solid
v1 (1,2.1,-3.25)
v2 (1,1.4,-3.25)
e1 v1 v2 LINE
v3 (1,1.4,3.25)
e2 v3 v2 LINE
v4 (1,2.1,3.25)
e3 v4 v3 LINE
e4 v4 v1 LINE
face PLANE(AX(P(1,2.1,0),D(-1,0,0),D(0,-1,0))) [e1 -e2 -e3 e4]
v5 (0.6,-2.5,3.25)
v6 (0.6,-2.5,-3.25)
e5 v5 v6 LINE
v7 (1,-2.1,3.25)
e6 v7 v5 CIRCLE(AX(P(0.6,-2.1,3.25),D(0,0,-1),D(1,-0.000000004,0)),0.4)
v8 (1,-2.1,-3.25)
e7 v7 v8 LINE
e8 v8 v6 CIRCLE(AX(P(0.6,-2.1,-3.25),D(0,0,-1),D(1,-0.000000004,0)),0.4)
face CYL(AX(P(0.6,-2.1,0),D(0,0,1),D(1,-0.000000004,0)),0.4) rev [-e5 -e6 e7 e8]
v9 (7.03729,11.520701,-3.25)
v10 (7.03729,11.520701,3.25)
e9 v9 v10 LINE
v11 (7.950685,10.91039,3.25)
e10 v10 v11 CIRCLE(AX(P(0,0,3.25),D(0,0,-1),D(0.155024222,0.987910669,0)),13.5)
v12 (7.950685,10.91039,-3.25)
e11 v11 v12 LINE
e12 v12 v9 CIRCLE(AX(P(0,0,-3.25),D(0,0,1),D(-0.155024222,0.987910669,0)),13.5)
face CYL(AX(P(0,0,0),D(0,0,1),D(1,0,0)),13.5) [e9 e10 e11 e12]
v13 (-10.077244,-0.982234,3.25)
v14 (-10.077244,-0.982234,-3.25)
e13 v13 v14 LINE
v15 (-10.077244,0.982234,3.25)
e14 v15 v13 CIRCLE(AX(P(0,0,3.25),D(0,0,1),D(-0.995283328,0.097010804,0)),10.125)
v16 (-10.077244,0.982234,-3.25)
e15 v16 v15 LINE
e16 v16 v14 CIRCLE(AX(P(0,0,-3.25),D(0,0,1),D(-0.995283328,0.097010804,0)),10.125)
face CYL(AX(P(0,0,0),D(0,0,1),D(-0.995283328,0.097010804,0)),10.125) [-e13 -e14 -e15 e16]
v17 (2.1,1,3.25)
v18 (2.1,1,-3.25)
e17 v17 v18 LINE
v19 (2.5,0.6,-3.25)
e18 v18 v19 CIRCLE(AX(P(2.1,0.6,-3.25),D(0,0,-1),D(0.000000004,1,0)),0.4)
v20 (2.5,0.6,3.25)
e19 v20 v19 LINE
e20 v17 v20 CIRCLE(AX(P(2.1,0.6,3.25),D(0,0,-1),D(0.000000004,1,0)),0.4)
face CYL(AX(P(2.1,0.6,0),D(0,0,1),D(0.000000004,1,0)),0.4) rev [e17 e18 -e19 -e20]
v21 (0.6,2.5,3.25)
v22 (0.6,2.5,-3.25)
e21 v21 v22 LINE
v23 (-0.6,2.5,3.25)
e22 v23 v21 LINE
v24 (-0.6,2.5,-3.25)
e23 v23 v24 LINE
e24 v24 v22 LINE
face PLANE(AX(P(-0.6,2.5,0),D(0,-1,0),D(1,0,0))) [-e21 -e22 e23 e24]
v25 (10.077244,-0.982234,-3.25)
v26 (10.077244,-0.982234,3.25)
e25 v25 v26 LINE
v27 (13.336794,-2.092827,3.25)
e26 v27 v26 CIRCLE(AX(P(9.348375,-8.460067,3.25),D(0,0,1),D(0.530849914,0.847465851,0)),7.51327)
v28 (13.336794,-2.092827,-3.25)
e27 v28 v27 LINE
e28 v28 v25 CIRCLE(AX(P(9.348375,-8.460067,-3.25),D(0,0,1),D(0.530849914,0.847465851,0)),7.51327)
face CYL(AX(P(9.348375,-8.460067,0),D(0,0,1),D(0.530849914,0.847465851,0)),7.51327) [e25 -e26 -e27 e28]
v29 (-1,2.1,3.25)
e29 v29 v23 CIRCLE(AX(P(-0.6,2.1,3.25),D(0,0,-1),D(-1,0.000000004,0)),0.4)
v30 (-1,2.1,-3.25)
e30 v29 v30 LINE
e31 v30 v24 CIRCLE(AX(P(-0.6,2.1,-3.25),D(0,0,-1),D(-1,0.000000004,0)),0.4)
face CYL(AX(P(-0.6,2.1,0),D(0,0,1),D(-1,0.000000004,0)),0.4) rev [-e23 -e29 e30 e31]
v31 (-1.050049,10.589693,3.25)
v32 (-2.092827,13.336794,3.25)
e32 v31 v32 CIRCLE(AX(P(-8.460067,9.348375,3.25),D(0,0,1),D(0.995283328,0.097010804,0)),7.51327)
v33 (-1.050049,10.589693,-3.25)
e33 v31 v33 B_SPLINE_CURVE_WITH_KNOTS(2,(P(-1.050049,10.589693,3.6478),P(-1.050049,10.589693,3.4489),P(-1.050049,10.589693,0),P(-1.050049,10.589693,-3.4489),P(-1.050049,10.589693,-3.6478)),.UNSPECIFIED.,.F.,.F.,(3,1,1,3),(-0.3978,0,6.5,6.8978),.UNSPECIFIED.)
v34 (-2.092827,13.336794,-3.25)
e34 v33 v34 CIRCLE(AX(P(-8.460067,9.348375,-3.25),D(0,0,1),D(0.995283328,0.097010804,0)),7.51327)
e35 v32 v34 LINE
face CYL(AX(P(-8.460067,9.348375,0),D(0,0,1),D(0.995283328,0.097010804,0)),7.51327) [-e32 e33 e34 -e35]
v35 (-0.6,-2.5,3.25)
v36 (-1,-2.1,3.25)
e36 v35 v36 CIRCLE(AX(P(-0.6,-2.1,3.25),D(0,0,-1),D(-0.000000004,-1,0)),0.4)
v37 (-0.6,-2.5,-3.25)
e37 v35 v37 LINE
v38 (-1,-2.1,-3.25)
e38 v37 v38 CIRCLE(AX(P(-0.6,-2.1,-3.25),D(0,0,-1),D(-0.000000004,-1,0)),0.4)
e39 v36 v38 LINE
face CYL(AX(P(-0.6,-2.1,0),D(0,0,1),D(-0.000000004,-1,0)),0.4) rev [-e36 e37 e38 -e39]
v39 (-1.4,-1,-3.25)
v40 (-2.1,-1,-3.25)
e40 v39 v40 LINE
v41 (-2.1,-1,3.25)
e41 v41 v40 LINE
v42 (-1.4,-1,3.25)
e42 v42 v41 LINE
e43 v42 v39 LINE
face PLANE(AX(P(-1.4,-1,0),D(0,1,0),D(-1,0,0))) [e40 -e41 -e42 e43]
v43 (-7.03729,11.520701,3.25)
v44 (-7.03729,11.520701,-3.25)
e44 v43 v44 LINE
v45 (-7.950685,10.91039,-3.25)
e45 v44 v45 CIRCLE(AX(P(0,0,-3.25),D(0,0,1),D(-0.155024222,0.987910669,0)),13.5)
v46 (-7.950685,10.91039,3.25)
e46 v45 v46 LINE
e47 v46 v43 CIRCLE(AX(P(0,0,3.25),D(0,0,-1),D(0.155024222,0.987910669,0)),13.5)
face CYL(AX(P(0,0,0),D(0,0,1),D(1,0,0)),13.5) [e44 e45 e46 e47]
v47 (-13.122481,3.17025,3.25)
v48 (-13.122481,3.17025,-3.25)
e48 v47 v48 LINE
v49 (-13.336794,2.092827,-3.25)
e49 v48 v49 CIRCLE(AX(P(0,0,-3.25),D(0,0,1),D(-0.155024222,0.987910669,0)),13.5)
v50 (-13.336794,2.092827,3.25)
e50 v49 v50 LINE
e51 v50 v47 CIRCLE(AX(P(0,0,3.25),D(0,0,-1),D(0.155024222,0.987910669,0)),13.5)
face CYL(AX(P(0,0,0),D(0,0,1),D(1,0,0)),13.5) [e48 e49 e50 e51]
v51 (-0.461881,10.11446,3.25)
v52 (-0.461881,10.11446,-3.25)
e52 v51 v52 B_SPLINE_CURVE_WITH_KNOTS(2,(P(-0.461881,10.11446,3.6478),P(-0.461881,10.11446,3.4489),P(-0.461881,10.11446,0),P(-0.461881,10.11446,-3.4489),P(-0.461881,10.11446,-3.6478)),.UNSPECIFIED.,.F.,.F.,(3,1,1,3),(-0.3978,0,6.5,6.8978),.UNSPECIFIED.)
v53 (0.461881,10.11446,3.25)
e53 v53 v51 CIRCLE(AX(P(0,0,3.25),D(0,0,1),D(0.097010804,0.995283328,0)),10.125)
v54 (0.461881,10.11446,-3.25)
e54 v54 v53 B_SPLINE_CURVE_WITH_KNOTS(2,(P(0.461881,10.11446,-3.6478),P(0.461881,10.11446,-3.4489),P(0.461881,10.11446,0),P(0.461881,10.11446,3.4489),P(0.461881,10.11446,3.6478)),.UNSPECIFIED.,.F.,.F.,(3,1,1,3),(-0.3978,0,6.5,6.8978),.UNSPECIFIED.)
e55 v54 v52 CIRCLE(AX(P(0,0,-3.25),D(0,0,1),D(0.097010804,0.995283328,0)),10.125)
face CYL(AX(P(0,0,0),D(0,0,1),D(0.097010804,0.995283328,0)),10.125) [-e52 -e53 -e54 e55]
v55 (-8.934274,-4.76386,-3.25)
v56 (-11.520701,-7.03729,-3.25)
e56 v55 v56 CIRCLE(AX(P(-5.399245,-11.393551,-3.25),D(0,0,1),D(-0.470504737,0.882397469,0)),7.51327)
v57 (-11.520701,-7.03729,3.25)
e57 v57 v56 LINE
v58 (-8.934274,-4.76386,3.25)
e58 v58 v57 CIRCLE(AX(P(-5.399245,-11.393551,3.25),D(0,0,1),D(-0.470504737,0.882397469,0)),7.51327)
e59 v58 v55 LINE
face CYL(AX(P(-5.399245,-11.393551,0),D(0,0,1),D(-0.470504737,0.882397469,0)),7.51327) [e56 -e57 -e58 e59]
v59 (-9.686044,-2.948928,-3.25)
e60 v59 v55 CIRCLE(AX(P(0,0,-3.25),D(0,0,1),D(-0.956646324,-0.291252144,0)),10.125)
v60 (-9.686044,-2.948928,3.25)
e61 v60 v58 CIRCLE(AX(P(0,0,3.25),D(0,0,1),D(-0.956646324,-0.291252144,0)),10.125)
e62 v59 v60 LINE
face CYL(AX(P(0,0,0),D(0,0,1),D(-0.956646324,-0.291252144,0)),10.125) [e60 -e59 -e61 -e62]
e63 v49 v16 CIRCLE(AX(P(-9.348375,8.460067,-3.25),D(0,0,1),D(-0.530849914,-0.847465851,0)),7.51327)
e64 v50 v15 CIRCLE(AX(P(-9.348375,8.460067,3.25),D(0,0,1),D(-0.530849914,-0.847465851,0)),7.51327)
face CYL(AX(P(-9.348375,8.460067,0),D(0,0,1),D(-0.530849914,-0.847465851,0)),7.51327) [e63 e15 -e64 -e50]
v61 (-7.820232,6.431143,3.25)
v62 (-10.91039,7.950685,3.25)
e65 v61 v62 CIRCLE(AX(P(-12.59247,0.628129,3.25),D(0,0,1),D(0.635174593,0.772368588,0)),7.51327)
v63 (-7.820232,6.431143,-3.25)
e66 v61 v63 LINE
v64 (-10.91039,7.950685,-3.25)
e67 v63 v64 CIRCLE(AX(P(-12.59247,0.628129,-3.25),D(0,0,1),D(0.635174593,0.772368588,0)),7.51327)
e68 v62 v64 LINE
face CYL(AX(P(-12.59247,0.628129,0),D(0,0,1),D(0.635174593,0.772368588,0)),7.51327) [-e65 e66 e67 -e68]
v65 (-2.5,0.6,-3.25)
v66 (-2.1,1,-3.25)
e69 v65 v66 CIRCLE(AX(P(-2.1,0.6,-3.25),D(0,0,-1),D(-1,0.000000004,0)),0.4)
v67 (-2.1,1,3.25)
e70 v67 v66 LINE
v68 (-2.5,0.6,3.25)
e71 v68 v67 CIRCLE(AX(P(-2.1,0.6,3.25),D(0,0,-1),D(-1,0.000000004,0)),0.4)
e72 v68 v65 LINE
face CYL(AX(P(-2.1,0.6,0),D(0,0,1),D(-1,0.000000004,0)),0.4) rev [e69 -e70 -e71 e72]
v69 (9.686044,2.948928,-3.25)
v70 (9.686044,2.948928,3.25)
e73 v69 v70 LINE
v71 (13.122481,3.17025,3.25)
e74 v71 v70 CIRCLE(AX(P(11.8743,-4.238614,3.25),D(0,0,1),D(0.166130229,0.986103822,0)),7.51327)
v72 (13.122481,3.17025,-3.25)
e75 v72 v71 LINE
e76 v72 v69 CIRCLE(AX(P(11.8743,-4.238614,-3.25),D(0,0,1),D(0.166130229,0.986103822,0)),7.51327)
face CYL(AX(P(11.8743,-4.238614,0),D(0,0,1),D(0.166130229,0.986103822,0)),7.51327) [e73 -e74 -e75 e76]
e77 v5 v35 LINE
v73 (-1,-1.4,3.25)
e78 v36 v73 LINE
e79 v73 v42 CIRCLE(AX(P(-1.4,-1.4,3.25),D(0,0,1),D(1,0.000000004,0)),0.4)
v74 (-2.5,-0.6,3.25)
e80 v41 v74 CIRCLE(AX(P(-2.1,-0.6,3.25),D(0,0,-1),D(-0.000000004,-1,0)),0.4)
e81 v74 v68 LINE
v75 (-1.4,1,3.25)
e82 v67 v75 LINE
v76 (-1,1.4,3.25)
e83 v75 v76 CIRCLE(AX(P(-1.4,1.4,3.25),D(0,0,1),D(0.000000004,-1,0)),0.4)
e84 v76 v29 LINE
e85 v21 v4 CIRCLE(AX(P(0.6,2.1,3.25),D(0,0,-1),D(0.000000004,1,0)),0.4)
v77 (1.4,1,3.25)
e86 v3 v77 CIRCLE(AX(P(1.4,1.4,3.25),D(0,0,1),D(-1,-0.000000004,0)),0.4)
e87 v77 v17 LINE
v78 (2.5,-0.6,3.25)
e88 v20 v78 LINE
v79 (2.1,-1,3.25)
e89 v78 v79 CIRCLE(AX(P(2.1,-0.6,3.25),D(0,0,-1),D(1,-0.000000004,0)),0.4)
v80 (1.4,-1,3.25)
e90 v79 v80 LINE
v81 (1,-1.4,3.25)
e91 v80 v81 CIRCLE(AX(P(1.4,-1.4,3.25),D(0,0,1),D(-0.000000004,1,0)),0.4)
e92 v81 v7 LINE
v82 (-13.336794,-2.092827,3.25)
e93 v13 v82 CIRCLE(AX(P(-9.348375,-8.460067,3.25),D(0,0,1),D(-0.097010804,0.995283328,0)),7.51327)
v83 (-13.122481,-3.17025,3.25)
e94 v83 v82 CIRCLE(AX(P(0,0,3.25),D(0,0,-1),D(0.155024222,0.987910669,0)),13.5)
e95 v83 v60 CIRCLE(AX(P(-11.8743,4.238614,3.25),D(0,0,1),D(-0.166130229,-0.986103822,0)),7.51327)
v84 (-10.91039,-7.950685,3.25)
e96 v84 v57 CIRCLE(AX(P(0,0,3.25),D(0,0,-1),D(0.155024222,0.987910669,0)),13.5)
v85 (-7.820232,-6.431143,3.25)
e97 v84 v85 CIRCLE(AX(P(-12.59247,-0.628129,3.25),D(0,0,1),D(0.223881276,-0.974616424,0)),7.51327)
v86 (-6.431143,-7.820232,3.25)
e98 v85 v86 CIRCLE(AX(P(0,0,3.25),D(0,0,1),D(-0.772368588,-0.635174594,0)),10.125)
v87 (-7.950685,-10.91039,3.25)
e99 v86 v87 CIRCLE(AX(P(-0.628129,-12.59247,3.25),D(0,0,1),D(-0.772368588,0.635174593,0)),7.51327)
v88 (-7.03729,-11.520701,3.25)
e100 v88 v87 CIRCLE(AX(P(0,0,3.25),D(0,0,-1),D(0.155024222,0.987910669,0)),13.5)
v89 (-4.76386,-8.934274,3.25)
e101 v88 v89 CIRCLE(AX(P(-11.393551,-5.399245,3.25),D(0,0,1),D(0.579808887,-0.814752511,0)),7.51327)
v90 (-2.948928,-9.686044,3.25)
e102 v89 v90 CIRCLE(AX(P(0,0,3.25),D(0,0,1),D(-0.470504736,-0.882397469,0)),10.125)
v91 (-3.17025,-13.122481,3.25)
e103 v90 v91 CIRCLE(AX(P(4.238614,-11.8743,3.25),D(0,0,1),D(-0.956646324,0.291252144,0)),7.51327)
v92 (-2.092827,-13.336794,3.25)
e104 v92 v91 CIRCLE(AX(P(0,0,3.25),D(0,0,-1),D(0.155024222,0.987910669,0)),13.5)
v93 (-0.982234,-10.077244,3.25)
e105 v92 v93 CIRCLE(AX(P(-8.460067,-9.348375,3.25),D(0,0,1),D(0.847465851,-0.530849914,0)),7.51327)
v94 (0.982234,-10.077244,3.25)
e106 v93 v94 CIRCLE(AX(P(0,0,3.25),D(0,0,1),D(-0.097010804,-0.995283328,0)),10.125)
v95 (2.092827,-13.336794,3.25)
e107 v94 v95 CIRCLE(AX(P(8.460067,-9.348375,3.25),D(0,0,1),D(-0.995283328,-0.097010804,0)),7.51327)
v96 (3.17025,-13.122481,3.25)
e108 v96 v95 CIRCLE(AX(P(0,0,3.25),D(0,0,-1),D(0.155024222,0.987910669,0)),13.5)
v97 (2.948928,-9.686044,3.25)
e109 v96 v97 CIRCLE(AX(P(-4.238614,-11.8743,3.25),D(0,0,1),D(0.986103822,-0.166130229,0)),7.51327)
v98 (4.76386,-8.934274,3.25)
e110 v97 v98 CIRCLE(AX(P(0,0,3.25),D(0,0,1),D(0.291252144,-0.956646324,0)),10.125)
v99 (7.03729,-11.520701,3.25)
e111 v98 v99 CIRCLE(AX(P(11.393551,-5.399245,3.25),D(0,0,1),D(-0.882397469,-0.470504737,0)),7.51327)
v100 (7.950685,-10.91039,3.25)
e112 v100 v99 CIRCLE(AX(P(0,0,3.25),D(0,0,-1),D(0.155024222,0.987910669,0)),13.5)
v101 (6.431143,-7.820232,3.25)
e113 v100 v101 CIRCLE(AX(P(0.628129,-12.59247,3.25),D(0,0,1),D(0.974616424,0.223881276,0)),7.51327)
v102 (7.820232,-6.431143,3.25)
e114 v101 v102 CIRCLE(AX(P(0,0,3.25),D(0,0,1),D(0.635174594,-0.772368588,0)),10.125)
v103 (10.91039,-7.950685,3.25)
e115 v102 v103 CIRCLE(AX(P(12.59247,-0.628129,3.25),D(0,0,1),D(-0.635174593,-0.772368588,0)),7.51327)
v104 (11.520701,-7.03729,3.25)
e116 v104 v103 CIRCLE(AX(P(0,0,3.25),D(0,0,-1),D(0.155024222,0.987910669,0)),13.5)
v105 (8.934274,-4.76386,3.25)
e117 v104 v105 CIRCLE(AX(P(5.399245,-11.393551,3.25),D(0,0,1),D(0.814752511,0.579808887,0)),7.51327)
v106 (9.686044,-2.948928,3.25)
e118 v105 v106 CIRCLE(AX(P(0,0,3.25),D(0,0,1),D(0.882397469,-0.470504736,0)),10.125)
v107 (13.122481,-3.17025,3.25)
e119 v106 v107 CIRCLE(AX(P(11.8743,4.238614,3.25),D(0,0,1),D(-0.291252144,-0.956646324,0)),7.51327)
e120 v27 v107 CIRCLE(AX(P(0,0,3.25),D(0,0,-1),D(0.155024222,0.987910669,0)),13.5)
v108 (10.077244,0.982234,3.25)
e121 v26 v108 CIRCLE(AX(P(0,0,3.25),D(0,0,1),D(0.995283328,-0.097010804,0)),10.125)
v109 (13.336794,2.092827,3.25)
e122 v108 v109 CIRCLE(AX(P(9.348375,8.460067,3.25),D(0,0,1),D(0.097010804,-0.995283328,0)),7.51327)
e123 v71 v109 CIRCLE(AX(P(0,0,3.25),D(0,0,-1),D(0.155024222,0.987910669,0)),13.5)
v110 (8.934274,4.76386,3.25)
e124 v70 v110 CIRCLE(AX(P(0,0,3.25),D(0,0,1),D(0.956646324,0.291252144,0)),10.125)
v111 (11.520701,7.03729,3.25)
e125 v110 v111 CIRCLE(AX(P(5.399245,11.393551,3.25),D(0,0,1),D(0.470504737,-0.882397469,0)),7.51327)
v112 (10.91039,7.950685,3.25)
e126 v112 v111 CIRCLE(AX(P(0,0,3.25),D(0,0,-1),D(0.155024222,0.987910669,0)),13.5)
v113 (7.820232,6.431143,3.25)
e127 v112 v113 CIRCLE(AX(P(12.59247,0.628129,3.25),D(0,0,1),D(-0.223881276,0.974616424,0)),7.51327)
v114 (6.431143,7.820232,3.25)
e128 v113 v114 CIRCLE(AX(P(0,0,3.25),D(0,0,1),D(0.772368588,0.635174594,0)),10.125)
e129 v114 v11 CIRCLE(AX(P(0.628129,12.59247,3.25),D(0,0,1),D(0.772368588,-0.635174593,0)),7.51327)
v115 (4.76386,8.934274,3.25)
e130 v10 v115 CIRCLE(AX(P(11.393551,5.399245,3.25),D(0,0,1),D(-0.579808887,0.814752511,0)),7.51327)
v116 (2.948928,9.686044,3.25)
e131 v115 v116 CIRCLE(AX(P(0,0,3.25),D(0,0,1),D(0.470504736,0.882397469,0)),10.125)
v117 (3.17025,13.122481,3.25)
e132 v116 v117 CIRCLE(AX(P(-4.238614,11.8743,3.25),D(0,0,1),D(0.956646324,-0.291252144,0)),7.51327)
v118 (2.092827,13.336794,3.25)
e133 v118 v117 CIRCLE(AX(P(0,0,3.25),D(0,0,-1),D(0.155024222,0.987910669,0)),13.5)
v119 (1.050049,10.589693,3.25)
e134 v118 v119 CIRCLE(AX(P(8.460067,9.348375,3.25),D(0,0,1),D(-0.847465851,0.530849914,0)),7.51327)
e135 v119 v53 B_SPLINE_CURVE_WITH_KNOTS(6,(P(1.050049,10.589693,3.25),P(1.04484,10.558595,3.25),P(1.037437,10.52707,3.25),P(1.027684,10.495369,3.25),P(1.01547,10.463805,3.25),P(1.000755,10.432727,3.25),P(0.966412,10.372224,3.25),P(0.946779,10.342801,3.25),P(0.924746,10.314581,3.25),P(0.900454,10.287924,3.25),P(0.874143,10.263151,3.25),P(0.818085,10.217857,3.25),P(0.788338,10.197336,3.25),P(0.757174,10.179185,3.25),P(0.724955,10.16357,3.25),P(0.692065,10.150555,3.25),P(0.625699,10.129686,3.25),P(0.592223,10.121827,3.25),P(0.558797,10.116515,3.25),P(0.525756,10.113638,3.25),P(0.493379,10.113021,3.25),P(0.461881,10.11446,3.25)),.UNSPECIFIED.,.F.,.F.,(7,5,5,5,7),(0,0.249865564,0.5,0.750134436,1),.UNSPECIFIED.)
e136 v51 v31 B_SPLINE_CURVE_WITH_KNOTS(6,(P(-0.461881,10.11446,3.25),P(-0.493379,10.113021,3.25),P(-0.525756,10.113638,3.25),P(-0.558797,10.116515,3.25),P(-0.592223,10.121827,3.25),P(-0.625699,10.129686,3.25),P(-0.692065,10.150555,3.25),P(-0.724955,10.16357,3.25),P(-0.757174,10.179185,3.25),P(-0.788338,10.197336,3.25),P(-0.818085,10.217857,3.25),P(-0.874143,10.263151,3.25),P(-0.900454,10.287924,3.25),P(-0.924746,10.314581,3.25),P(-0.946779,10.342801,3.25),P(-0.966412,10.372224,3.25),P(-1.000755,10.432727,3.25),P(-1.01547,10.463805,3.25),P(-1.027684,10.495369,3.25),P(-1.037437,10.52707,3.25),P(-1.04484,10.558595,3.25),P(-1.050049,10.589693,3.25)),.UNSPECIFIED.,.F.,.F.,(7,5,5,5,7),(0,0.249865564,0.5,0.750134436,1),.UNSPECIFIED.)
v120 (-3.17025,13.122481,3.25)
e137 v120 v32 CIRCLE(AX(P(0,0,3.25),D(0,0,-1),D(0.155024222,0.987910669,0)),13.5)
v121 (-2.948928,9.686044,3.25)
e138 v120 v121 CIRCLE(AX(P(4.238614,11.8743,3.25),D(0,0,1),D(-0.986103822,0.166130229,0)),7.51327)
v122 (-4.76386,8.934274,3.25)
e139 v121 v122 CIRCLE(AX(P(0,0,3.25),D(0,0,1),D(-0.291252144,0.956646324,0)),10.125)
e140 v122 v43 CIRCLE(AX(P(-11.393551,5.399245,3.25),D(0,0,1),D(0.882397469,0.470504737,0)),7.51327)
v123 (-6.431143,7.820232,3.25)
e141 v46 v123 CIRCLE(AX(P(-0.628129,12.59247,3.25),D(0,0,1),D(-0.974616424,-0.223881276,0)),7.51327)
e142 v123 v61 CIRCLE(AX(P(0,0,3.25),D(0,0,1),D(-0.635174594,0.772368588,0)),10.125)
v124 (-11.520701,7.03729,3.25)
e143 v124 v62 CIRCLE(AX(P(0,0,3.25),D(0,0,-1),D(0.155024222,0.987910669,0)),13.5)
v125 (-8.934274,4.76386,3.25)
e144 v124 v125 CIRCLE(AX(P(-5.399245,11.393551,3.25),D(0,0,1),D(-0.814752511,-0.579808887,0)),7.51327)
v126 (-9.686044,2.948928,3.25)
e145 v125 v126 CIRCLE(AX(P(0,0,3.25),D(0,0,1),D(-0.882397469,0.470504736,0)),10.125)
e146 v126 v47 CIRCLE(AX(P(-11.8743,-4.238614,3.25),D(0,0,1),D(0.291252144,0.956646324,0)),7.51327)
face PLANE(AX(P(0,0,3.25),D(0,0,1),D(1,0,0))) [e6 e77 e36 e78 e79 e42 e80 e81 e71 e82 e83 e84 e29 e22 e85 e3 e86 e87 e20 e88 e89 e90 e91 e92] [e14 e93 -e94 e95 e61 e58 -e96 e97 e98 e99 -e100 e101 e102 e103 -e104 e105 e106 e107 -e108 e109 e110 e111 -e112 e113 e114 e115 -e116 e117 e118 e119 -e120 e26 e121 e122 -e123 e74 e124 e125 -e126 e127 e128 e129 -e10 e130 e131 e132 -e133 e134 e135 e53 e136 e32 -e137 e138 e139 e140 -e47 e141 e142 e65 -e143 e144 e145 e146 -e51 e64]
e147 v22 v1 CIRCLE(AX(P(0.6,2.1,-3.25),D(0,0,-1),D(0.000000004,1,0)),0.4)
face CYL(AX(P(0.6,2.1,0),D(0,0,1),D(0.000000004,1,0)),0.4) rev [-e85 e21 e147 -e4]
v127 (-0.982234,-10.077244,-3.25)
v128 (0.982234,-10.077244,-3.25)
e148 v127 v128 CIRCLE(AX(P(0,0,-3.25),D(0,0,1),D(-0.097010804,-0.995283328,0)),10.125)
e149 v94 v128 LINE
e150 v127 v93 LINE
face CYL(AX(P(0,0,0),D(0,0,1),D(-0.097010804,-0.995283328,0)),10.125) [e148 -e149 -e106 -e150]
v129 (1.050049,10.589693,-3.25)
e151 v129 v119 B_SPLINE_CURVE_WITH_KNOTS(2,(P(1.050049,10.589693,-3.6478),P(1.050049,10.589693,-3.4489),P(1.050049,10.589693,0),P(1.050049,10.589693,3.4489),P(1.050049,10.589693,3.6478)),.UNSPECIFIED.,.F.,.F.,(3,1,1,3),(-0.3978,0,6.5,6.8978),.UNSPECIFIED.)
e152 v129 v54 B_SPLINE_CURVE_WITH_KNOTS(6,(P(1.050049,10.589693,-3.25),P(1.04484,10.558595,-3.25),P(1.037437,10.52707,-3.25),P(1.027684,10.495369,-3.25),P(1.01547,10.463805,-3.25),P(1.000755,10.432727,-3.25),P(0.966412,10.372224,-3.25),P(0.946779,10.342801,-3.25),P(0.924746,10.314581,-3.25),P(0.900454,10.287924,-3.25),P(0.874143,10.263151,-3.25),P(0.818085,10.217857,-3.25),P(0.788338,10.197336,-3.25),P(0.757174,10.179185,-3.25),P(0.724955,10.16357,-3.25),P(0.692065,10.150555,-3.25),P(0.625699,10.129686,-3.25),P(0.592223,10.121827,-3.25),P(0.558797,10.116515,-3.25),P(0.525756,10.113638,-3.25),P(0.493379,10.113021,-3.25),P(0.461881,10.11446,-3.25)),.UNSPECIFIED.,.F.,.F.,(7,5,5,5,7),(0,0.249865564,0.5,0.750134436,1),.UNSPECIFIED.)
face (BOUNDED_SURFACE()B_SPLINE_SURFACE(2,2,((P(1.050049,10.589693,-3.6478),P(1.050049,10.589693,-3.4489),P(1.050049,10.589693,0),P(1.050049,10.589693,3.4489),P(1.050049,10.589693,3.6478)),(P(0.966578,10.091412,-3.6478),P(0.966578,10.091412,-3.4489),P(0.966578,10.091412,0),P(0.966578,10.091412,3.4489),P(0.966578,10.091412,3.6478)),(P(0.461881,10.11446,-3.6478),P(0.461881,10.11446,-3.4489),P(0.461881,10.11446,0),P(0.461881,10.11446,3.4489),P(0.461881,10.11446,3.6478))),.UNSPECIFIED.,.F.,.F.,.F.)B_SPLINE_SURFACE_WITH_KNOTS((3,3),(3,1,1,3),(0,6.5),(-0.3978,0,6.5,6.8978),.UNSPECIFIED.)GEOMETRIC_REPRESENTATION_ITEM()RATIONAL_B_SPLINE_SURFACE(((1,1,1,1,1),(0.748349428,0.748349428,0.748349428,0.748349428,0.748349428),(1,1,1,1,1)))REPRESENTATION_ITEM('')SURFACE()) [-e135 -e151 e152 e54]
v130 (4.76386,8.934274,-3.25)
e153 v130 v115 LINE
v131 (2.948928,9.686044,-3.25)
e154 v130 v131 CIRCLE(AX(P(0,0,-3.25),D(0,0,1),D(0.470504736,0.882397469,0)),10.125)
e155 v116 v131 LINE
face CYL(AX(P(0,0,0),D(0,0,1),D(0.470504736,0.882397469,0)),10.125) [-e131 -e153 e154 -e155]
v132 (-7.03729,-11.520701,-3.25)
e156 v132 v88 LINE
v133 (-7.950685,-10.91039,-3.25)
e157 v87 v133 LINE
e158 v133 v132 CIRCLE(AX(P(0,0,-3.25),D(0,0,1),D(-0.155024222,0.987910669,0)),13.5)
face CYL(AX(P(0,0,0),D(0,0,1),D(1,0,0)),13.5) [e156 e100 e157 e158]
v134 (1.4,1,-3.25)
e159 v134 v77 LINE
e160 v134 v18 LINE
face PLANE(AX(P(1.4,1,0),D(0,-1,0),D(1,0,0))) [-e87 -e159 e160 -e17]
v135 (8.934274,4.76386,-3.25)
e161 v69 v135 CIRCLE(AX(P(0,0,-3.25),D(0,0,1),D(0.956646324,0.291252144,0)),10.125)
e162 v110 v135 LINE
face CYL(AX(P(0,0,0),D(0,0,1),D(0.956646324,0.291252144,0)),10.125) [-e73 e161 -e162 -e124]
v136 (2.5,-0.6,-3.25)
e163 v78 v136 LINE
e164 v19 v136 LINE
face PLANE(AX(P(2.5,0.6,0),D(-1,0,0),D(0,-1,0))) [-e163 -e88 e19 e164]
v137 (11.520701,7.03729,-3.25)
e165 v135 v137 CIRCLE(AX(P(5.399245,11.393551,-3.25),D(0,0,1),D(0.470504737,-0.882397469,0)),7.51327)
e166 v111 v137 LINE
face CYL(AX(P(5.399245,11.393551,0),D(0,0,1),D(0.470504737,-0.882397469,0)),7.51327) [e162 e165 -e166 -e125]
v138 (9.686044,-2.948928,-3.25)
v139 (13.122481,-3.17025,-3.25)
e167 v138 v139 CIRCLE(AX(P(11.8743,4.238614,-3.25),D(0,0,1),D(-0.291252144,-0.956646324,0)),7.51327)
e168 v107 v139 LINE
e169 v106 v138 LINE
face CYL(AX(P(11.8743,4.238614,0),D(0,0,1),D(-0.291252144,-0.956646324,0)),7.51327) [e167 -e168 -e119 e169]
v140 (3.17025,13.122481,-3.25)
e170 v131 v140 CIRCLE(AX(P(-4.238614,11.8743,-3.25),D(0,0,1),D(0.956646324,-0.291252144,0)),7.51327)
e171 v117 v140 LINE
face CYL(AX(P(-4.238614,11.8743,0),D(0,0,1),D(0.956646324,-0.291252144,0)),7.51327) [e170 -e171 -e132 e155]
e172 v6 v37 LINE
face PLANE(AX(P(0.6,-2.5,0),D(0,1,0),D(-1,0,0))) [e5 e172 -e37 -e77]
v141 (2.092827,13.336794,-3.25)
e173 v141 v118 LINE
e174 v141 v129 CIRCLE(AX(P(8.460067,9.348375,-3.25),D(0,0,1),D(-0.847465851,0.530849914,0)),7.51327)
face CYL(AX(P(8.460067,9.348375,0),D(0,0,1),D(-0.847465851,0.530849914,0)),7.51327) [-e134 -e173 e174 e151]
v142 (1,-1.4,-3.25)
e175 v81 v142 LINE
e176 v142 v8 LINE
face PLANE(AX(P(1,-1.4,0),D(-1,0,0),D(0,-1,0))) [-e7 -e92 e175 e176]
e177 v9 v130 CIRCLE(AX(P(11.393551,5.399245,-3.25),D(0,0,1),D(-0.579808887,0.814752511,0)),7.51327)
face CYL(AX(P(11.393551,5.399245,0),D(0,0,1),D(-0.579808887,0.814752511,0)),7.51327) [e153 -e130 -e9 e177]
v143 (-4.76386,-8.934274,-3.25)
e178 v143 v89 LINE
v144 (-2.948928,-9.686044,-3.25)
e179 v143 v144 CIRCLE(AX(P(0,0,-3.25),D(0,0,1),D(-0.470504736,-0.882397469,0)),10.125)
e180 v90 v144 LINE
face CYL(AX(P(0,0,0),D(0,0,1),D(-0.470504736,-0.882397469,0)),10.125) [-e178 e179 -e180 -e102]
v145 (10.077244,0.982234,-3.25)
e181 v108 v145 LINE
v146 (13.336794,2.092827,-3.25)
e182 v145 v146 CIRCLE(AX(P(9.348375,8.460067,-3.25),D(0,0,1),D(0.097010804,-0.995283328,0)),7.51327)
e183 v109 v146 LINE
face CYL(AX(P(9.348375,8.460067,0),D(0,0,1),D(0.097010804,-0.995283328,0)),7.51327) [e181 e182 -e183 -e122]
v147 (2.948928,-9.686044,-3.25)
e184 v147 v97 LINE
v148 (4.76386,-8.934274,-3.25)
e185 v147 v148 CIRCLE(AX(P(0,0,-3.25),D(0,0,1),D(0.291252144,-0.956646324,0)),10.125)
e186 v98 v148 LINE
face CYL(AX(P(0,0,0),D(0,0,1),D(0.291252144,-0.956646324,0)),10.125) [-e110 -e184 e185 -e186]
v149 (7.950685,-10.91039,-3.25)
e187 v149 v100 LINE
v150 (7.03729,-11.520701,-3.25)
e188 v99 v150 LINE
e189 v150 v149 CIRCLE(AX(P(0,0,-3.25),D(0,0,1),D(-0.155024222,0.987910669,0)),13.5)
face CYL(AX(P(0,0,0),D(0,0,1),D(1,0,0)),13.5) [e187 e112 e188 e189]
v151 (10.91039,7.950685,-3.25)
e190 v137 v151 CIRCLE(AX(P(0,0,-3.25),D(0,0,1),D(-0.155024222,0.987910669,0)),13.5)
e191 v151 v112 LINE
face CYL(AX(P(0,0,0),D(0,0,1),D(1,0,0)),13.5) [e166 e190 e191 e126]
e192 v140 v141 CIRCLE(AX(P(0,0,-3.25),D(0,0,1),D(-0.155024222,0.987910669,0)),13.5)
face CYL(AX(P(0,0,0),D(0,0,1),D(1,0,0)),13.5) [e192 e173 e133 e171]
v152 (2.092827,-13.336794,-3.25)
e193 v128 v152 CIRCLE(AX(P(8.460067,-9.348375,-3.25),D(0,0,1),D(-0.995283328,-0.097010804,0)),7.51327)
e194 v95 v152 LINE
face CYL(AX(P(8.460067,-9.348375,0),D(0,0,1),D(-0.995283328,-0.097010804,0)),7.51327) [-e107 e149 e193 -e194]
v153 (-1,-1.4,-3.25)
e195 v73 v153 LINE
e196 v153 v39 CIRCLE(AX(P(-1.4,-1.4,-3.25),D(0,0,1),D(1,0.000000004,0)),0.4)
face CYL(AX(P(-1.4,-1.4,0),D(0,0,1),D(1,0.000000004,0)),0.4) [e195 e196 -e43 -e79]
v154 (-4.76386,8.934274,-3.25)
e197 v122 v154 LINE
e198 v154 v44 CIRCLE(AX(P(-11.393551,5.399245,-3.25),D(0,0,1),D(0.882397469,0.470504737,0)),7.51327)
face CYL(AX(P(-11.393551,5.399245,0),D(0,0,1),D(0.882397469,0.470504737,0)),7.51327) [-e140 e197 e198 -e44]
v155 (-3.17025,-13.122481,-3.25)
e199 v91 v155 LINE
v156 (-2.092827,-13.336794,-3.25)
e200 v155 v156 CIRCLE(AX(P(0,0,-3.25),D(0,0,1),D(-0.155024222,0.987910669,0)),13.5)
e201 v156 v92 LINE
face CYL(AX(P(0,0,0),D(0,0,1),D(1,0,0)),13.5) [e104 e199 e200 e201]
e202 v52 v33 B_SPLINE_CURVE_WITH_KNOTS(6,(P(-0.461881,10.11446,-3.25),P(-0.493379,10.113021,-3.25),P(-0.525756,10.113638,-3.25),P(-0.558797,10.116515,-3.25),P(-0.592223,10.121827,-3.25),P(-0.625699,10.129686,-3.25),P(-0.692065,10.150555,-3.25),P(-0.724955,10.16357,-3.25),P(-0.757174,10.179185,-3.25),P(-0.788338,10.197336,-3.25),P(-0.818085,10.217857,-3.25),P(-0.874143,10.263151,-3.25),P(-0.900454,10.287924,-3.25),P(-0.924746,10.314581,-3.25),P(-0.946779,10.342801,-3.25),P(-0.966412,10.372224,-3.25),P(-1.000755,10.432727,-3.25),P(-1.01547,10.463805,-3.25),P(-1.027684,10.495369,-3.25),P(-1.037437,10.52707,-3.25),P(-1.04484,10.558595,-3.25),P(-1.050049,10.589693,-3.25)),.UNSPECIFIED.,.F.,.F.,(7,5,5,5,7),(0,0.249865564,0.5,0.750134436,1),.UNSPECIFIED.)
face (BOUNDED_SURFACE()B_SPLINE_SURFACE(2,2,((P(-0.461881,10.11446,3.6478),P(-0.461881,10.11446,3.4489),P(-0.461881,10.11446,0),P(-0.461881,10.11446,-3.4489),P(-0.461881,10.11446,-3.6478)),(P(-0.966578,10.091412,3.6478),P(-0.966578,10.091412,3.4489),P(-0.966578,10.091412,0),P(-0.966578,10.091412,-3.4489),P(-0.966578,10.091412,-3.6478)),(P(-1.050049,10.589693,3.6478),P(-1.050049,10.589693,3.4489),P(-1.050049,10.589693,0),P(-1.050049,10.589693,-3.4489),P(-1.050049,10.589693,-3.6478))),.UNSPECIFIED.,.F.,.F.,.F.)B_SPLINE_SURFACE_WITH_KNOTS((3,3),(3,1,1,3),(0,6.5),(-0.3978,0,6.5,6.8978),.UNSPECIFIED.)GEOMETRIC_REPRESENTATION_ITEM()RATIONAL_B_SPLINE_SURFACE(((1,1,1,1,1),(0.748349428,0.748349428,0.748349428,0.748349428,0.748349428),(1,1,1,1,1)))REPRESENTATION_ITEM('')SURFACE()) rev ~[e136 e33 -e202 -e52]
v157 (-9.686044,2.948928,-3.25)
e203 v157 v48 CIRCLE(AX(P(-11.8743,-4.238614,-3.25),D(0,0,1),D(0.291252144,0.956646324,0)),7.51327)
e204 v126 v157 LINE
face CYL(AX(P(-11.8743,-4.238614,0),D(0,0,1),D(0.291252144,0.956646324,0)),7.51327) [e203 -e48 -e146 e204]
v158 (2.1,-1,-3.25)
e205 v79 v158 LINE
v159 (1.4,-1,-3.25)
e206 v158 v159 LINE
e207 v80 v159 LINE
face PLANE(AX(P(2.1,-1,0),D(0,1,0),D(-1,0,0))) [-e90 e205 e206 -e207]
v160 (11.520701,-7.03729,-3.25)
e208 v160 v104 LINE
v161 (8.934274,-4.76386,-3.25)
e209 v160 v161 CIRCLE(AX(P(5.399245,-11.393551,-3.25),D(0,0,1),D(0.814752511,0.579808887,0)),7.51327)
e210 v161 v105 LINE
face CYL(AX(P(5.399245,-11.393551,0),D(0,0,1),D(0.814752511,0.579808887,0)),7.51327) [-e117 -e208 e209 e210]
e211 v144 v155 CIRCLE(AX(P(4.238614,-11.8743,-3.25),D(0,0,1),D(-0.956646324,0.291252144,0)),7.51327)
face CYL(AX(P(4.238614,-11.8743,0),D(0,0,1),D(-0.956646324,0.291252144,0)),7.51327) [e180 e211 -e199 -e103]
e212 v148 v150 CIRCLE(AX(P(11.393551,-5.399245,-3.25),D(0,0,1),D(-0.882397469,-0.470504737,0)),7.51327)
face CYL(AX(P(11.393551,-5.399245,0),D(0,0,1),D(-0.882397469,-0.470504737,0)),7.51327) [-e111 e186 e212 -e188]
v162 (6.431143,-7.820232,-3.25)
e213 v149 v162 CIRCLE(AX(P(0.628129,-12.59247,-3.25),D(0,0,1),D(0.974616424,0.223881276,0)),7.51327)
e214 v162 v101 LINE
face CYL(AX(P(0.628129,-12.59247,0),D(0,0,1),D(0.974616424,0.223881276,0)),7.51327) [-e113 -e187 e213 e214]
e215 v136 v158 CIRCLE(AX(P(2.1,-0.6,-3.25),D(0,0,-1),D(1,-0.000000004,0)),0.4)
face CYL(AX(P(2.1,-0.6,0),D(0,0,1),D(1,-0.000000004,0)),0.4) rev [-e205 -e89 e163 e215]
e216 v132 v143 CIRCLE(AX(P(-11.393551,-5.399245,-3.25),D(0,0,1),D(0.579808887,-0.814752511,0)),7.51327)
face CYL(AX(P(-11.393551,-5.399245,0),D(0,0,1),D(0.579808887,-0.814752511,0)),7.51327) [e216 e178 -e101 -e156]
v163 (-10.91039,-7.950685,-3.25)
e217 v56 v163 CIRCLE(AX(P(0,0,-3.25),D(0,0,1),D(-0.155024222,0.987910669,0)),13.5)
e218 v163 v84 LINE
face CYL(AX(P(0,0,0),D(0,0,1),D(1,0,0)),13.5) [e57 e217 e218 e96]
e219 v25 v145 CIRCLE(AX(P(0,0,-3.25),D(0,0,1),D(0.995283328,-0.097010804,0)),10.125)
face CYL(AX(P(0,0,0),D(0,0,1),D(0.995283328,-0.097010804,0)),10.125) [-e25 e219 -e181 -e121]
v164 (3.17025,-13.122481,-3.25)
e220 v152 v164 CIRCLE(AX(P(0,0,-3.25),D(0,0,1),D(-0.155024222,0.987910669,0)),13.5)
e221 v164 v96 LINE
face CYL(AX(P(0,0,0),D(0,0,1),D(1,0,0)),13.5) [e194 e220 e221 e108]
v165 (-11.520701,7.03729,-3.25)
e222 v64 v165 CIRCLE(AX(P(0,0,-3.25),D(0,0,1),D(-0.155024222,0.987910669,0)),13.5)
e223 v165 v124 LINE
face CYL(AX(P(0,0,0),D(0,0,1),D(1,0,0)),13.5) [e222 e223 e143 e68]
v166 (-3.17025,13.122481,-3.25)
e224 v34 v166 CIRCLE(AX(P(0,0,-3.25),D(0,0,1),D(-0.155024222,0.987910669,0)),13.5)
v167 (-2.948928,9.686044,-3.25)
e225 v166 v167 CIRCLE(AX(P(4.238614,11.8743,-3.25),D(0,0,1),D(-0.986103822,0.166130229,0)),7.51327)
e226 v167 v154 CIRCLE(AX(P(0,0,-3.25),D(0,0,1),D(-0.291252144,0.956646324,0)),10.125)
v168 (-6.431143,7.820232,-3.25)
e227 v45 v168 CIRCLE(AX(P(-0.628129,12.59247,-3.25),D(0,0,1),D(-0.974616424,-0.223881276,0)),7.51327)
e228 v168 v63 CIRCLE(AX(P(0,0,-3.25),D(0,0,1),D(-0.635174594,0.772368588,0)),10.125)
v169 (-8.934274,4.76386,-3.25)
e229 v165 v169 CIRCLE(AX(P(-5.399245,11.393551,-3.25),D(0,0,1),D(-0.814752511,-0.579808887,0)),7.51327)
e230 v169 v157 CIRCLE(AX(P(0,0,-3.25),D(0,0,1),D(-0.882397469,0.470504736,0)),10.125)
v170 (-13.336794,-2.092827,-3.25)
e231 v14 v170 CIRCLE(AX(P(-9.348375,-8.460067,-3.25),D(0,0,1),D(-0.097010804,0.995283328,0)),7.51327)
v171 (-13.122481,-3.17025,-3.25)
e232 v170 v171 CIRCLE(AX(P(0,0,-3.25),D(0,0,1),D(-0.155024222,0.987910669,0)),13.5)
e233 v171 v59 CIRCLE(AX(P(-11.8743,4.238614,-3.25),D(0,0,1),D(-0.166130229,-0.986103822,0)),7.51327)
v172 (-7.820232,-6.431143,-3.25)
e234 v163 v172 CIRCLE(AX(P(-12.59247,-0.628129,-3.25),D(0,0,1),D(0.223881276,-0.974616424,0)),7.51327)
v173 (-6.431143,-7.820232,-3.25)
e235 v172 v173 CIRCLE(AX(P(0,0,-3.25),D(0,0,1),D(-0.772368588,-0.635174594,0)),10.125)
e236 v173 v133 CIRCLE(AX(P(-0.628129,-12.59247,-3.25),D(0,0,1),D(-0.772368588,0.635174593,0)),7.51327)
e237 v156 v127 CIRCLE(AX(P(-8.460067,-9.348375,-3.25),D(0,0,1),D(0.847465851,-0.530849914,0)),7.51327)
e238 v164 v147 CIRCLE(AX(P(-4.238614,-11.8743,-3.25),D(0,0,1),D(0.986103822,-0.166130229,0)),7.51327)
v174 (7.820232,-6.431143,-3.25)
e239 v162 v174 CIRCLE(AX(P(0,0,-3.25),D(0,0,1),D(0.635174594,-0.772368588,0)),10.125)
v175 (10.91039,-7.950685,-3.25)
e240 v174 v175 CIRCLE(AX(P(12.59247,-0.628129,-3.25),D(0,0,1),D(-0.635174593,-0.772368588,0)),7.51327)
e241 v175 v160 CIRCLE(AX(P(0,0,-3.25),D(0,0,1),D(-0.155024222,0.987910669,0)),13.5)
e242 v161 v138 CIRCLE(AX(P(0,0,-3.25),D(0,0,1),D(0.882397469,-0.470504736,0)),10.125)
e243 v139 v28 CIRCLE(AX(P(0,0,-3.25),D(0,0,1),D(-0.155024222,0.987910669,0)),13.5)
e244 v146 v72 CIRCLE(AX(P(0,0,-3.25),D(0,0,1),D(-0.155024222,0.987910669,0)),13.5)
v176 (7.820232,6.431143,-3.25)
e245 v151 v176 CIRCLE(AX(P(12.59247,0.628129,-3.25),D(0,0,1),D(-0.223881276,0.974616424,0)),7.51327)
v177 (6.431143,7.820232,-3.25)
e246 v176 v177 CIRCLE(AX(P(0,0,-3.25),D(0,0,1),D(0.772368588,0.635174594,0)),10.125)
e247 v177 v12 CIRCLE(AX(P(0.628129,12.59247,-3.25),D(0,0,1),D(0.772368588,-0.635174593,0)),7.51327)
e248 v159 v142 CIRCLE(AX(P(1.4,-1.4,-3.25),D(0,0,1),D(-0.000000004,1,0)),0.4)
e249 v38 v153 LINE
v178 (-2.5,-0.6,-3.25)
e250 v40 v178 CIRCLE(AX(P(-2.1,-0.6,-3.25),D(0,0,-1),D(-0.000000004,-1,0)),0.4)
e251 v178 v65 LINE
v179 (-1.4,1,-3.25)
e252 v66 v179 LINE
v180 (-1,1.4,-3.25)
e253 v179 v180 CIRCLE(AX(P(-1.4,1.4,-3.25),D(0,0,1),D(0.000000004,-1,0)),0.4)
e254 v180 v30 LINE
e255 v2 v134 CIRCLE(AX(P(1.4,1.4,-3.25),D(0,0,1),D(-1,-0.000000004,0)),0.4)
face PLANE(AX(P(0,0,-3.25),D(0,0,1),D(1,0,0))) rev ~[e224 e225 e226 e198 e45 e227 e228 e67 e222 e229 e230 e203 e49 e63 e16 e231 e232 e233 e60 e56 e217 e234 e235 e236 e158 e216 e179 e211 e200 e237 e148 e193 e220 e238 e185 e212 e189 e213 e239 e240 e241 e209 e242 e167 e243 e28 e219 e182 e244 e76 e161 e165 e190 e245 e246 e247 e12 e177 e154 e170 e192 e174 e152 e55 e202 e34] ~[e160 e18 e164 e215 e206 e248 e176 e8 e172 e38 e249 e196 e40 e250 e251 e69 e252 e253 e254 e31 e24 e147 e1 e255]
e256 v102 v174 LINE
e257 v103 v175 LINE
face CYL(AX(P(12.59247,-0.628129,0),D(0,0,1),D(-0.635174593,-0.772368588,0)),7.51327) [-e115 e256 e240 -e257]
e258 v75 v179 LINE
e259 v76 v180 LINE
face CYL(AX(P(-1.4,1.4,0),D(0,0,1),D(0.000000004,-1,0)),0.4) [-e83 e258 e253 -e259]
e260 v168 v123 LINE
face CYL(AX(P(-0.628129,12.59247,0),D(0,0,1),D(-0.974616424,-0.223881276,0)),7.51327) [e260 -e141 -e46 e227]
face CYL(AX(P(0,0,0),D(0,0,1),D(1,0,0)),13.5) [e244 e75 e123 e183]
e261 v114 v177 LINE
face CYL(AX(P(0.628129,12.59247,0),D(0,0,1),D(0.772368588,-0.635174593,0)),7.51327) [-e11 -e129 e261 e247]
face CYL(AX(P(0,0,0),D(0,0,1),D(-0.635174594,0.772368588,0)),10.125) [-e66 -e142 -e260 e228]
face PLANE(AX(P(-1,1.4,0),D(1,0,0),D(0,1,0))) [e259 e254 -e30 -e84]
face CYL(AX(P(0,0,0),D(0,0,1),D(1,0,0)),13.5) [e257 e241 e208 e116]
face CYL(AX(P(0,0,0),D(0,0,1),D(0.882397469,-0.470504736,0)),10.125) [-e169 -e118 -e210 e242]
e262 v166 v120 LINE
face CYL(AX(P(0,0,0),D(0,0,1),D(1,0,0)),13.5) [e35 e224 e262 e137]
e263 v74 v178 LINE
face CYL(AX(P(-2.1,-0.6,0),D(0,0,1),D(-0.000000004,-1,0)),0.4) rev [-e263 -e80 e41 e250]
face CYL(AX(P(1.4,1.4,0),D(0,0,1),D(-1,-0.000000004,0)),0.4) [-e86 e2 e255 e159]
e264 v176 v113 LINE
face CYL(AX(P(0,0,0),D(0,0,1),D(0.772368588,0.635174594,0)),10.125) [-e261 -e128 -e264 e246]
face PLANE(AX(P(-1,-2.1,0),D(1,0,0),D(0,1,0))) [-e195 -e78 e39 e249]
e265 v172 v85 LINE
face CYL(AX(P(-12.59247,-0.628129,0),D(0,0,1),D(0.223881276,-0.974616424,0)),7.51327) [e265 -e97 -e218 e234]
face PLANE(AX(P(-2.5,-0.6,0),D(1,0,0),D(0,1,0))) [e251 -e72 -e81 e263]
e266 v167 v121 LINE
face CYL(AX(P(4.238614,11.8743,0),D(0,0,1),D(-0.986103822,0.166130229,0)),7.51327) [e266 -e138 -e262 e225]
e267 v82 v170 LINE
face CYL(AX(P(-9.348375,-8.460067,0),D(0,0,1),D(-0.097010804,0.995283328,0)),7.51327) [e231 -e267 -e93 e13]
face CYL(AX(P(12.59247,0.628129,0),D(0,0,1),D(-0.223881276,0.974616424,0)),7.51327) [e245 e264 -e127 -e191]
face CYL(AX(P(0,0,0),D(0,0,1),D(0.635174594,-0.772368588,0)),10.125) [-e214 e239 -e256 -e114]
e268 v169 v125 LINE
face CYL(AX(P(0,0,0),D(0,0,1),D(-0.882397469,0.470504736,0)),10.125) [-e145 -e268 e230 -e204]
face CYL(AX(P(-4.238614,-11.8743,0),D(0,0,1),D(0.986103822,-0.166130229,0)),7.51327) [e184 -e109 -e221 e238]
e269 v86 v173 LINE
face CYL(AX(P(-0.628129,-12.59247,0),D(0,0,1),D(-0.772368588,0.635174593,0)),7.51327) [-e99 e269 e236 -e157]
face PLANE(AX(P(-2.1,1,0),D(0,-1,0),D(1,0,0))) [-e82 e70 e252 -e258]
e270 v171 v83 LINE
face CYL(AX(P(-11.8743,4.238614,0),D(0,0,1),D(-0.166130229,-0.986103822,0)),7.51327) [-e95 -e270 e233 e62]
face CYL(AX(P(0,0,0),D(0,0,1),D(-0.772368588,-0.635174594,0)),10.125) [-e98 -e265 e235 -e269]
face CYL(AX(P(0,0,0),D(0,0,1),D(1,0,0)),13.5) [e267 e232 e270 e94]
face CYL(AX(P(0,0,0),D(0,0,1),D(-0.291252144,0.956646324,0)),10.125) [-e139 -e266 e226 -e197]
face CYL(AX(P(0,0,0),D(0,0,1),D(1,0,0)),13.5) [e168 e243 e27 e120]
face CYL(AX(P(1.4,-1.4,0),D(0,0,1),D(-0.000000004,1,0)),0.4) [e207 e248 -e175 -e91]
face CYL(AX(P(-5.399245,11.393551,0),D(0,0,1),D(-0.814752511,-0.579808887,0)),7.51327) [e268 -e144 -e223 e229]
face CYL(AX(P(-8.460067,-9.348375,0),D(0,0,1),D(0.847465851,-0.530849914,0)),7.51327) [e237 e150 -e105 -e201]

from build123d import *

# Parameters (mm, degrees)
SKETCH1_R           = 13.5
BOSS_EXTRUDE1_DEPTH = 3.25
CUT_EXTRUDE1_DEPTH  = 4.25
FILLET1_R           = 0.57
CIRPATTERN3_COUNT   = 16


with BuildPart() as part:
    # Sketch1 → Boss-Extrude1 (new body, symmetric)
    with BuildSketch(Plane.XY):
        Circle(SKETCH1_R)
        with BuildLine():
            Line((1.4, 1), (2.1, 1))
            ThreePointArc((2.1, 1), (2.382842712, 0.882842712), (2.5, 0.6))
            Line((2.5, 0.6), (2.5, -0.6))
            ThreePointArc((2.5, -0.6), (2.382842712, -0.882842712), (2.1, -1))
            Line((2.1, -1), (1.4, -1))
            ThreePointArc((1.4, -1), (1.117157288, -1.117157288), (1, -1.4))
            Line((1, -1.4), (1, -2.1))
            ThreePointArc((1, -2.1), (0.882842712, -2.382842712), (0.6, -2.5))
            Line((0.6, -2.5), (-0.6, -2.5))
            ThreePointArc((-0.6, -2.5), (-0.882842712, -2.382842712), (-1, -2.1))
            Line((-1, -2.1), (-1, -1.4))
            ThreePointArc((-1, -1.4), (-1.117157288, -1.117157288), (-1.4, -1))
            Line((-1.4, -1), (-2.1, -1))
            ThreePointArc((-2.1, -1), (-2.382842712, -0.882842712), (-2.5, -0.6))
            Line((-2.5, -0.6), (-2.5, 0.6))
            ThreePointArc((-2.5, 0.6), (-2.382842712, 0.882842712), (-2.1, 1))
            Line((-2.1, 1), (-1.4, 1))
            ThreePointArc((-1.4, 1), (-1.117157288, 1.117157288), (-1, 1.4))
            Line((-1, 1.4), (-1, 2.1))
            ThreePointArc((-1, 2.1), (-0.882842712, 2.382842712), (-0.6, 2.5))
            Line((-0.6, 2.5), (0.6, 2.5))
            ThreePointArc((0.6, 2.5), (0.882842712, 2.382842712), (1, 2.1))
            Line((1, 2.1), (1, 1.4))
            ThreePointArc((1, 1.4), (1.117157288, 1.117157288), (1.4, 1))
        make_face(mode=Mode.SUBTRACT)
    extrude(amount=BOSS_EXTRUDE1_DEPTH, both=True)

    # Sketch2 → Cut-Extrude1 (cut, symmetric)
    with BuildSketch(Plane.XY):
        with BuildLine():
            ThreePointArc((0.982234387, 10.077243701), (0, 10.125), (-0.982234387, 10.077243701))
            ThreePointArc((-0.982234387, 10.077243701), (-1.348268622, 11.771504161), (-2.092826994, 13.336794037))
            ThreePointArc((-2.092826994, 13.336794037), (0, 13.5), (2.092826994, 13.336794037))
            ThreePointArc((2.092826994, 13.336794037), (1.348268622, 11.771504161), (0.982234387, 10.077243701))
        make_face()
    cut_extrude1 = extrude(amount=CUT_EXTRUDE1_DEPTH, both=True, mode=Mode.SUBTRACT)

    # Fillet1
    fillet1_edges = [part.edges().sort_by_distance(p)[0] for p in [
        (-0.982234387, 10.077243701, 0),
        (0.982234387, 10.077243701, 0),
    ]]
    fillet(fillet1_edges, radius=FILLET1_R)

    # CirPattern3: Cut-Extrude1 ×16 about axis
    cirpattern3_axis = Axis((0, 0, 0), (0, 0, 1))
    for i in range(1, CIRPATTERN3_COUNT):
        add(cut_extrude1.rotate(cirpattern3_axis, i * 360 / CIRPATTERN3_COUNT), mode=Mode.SUBTRACT)


solid = part.part
